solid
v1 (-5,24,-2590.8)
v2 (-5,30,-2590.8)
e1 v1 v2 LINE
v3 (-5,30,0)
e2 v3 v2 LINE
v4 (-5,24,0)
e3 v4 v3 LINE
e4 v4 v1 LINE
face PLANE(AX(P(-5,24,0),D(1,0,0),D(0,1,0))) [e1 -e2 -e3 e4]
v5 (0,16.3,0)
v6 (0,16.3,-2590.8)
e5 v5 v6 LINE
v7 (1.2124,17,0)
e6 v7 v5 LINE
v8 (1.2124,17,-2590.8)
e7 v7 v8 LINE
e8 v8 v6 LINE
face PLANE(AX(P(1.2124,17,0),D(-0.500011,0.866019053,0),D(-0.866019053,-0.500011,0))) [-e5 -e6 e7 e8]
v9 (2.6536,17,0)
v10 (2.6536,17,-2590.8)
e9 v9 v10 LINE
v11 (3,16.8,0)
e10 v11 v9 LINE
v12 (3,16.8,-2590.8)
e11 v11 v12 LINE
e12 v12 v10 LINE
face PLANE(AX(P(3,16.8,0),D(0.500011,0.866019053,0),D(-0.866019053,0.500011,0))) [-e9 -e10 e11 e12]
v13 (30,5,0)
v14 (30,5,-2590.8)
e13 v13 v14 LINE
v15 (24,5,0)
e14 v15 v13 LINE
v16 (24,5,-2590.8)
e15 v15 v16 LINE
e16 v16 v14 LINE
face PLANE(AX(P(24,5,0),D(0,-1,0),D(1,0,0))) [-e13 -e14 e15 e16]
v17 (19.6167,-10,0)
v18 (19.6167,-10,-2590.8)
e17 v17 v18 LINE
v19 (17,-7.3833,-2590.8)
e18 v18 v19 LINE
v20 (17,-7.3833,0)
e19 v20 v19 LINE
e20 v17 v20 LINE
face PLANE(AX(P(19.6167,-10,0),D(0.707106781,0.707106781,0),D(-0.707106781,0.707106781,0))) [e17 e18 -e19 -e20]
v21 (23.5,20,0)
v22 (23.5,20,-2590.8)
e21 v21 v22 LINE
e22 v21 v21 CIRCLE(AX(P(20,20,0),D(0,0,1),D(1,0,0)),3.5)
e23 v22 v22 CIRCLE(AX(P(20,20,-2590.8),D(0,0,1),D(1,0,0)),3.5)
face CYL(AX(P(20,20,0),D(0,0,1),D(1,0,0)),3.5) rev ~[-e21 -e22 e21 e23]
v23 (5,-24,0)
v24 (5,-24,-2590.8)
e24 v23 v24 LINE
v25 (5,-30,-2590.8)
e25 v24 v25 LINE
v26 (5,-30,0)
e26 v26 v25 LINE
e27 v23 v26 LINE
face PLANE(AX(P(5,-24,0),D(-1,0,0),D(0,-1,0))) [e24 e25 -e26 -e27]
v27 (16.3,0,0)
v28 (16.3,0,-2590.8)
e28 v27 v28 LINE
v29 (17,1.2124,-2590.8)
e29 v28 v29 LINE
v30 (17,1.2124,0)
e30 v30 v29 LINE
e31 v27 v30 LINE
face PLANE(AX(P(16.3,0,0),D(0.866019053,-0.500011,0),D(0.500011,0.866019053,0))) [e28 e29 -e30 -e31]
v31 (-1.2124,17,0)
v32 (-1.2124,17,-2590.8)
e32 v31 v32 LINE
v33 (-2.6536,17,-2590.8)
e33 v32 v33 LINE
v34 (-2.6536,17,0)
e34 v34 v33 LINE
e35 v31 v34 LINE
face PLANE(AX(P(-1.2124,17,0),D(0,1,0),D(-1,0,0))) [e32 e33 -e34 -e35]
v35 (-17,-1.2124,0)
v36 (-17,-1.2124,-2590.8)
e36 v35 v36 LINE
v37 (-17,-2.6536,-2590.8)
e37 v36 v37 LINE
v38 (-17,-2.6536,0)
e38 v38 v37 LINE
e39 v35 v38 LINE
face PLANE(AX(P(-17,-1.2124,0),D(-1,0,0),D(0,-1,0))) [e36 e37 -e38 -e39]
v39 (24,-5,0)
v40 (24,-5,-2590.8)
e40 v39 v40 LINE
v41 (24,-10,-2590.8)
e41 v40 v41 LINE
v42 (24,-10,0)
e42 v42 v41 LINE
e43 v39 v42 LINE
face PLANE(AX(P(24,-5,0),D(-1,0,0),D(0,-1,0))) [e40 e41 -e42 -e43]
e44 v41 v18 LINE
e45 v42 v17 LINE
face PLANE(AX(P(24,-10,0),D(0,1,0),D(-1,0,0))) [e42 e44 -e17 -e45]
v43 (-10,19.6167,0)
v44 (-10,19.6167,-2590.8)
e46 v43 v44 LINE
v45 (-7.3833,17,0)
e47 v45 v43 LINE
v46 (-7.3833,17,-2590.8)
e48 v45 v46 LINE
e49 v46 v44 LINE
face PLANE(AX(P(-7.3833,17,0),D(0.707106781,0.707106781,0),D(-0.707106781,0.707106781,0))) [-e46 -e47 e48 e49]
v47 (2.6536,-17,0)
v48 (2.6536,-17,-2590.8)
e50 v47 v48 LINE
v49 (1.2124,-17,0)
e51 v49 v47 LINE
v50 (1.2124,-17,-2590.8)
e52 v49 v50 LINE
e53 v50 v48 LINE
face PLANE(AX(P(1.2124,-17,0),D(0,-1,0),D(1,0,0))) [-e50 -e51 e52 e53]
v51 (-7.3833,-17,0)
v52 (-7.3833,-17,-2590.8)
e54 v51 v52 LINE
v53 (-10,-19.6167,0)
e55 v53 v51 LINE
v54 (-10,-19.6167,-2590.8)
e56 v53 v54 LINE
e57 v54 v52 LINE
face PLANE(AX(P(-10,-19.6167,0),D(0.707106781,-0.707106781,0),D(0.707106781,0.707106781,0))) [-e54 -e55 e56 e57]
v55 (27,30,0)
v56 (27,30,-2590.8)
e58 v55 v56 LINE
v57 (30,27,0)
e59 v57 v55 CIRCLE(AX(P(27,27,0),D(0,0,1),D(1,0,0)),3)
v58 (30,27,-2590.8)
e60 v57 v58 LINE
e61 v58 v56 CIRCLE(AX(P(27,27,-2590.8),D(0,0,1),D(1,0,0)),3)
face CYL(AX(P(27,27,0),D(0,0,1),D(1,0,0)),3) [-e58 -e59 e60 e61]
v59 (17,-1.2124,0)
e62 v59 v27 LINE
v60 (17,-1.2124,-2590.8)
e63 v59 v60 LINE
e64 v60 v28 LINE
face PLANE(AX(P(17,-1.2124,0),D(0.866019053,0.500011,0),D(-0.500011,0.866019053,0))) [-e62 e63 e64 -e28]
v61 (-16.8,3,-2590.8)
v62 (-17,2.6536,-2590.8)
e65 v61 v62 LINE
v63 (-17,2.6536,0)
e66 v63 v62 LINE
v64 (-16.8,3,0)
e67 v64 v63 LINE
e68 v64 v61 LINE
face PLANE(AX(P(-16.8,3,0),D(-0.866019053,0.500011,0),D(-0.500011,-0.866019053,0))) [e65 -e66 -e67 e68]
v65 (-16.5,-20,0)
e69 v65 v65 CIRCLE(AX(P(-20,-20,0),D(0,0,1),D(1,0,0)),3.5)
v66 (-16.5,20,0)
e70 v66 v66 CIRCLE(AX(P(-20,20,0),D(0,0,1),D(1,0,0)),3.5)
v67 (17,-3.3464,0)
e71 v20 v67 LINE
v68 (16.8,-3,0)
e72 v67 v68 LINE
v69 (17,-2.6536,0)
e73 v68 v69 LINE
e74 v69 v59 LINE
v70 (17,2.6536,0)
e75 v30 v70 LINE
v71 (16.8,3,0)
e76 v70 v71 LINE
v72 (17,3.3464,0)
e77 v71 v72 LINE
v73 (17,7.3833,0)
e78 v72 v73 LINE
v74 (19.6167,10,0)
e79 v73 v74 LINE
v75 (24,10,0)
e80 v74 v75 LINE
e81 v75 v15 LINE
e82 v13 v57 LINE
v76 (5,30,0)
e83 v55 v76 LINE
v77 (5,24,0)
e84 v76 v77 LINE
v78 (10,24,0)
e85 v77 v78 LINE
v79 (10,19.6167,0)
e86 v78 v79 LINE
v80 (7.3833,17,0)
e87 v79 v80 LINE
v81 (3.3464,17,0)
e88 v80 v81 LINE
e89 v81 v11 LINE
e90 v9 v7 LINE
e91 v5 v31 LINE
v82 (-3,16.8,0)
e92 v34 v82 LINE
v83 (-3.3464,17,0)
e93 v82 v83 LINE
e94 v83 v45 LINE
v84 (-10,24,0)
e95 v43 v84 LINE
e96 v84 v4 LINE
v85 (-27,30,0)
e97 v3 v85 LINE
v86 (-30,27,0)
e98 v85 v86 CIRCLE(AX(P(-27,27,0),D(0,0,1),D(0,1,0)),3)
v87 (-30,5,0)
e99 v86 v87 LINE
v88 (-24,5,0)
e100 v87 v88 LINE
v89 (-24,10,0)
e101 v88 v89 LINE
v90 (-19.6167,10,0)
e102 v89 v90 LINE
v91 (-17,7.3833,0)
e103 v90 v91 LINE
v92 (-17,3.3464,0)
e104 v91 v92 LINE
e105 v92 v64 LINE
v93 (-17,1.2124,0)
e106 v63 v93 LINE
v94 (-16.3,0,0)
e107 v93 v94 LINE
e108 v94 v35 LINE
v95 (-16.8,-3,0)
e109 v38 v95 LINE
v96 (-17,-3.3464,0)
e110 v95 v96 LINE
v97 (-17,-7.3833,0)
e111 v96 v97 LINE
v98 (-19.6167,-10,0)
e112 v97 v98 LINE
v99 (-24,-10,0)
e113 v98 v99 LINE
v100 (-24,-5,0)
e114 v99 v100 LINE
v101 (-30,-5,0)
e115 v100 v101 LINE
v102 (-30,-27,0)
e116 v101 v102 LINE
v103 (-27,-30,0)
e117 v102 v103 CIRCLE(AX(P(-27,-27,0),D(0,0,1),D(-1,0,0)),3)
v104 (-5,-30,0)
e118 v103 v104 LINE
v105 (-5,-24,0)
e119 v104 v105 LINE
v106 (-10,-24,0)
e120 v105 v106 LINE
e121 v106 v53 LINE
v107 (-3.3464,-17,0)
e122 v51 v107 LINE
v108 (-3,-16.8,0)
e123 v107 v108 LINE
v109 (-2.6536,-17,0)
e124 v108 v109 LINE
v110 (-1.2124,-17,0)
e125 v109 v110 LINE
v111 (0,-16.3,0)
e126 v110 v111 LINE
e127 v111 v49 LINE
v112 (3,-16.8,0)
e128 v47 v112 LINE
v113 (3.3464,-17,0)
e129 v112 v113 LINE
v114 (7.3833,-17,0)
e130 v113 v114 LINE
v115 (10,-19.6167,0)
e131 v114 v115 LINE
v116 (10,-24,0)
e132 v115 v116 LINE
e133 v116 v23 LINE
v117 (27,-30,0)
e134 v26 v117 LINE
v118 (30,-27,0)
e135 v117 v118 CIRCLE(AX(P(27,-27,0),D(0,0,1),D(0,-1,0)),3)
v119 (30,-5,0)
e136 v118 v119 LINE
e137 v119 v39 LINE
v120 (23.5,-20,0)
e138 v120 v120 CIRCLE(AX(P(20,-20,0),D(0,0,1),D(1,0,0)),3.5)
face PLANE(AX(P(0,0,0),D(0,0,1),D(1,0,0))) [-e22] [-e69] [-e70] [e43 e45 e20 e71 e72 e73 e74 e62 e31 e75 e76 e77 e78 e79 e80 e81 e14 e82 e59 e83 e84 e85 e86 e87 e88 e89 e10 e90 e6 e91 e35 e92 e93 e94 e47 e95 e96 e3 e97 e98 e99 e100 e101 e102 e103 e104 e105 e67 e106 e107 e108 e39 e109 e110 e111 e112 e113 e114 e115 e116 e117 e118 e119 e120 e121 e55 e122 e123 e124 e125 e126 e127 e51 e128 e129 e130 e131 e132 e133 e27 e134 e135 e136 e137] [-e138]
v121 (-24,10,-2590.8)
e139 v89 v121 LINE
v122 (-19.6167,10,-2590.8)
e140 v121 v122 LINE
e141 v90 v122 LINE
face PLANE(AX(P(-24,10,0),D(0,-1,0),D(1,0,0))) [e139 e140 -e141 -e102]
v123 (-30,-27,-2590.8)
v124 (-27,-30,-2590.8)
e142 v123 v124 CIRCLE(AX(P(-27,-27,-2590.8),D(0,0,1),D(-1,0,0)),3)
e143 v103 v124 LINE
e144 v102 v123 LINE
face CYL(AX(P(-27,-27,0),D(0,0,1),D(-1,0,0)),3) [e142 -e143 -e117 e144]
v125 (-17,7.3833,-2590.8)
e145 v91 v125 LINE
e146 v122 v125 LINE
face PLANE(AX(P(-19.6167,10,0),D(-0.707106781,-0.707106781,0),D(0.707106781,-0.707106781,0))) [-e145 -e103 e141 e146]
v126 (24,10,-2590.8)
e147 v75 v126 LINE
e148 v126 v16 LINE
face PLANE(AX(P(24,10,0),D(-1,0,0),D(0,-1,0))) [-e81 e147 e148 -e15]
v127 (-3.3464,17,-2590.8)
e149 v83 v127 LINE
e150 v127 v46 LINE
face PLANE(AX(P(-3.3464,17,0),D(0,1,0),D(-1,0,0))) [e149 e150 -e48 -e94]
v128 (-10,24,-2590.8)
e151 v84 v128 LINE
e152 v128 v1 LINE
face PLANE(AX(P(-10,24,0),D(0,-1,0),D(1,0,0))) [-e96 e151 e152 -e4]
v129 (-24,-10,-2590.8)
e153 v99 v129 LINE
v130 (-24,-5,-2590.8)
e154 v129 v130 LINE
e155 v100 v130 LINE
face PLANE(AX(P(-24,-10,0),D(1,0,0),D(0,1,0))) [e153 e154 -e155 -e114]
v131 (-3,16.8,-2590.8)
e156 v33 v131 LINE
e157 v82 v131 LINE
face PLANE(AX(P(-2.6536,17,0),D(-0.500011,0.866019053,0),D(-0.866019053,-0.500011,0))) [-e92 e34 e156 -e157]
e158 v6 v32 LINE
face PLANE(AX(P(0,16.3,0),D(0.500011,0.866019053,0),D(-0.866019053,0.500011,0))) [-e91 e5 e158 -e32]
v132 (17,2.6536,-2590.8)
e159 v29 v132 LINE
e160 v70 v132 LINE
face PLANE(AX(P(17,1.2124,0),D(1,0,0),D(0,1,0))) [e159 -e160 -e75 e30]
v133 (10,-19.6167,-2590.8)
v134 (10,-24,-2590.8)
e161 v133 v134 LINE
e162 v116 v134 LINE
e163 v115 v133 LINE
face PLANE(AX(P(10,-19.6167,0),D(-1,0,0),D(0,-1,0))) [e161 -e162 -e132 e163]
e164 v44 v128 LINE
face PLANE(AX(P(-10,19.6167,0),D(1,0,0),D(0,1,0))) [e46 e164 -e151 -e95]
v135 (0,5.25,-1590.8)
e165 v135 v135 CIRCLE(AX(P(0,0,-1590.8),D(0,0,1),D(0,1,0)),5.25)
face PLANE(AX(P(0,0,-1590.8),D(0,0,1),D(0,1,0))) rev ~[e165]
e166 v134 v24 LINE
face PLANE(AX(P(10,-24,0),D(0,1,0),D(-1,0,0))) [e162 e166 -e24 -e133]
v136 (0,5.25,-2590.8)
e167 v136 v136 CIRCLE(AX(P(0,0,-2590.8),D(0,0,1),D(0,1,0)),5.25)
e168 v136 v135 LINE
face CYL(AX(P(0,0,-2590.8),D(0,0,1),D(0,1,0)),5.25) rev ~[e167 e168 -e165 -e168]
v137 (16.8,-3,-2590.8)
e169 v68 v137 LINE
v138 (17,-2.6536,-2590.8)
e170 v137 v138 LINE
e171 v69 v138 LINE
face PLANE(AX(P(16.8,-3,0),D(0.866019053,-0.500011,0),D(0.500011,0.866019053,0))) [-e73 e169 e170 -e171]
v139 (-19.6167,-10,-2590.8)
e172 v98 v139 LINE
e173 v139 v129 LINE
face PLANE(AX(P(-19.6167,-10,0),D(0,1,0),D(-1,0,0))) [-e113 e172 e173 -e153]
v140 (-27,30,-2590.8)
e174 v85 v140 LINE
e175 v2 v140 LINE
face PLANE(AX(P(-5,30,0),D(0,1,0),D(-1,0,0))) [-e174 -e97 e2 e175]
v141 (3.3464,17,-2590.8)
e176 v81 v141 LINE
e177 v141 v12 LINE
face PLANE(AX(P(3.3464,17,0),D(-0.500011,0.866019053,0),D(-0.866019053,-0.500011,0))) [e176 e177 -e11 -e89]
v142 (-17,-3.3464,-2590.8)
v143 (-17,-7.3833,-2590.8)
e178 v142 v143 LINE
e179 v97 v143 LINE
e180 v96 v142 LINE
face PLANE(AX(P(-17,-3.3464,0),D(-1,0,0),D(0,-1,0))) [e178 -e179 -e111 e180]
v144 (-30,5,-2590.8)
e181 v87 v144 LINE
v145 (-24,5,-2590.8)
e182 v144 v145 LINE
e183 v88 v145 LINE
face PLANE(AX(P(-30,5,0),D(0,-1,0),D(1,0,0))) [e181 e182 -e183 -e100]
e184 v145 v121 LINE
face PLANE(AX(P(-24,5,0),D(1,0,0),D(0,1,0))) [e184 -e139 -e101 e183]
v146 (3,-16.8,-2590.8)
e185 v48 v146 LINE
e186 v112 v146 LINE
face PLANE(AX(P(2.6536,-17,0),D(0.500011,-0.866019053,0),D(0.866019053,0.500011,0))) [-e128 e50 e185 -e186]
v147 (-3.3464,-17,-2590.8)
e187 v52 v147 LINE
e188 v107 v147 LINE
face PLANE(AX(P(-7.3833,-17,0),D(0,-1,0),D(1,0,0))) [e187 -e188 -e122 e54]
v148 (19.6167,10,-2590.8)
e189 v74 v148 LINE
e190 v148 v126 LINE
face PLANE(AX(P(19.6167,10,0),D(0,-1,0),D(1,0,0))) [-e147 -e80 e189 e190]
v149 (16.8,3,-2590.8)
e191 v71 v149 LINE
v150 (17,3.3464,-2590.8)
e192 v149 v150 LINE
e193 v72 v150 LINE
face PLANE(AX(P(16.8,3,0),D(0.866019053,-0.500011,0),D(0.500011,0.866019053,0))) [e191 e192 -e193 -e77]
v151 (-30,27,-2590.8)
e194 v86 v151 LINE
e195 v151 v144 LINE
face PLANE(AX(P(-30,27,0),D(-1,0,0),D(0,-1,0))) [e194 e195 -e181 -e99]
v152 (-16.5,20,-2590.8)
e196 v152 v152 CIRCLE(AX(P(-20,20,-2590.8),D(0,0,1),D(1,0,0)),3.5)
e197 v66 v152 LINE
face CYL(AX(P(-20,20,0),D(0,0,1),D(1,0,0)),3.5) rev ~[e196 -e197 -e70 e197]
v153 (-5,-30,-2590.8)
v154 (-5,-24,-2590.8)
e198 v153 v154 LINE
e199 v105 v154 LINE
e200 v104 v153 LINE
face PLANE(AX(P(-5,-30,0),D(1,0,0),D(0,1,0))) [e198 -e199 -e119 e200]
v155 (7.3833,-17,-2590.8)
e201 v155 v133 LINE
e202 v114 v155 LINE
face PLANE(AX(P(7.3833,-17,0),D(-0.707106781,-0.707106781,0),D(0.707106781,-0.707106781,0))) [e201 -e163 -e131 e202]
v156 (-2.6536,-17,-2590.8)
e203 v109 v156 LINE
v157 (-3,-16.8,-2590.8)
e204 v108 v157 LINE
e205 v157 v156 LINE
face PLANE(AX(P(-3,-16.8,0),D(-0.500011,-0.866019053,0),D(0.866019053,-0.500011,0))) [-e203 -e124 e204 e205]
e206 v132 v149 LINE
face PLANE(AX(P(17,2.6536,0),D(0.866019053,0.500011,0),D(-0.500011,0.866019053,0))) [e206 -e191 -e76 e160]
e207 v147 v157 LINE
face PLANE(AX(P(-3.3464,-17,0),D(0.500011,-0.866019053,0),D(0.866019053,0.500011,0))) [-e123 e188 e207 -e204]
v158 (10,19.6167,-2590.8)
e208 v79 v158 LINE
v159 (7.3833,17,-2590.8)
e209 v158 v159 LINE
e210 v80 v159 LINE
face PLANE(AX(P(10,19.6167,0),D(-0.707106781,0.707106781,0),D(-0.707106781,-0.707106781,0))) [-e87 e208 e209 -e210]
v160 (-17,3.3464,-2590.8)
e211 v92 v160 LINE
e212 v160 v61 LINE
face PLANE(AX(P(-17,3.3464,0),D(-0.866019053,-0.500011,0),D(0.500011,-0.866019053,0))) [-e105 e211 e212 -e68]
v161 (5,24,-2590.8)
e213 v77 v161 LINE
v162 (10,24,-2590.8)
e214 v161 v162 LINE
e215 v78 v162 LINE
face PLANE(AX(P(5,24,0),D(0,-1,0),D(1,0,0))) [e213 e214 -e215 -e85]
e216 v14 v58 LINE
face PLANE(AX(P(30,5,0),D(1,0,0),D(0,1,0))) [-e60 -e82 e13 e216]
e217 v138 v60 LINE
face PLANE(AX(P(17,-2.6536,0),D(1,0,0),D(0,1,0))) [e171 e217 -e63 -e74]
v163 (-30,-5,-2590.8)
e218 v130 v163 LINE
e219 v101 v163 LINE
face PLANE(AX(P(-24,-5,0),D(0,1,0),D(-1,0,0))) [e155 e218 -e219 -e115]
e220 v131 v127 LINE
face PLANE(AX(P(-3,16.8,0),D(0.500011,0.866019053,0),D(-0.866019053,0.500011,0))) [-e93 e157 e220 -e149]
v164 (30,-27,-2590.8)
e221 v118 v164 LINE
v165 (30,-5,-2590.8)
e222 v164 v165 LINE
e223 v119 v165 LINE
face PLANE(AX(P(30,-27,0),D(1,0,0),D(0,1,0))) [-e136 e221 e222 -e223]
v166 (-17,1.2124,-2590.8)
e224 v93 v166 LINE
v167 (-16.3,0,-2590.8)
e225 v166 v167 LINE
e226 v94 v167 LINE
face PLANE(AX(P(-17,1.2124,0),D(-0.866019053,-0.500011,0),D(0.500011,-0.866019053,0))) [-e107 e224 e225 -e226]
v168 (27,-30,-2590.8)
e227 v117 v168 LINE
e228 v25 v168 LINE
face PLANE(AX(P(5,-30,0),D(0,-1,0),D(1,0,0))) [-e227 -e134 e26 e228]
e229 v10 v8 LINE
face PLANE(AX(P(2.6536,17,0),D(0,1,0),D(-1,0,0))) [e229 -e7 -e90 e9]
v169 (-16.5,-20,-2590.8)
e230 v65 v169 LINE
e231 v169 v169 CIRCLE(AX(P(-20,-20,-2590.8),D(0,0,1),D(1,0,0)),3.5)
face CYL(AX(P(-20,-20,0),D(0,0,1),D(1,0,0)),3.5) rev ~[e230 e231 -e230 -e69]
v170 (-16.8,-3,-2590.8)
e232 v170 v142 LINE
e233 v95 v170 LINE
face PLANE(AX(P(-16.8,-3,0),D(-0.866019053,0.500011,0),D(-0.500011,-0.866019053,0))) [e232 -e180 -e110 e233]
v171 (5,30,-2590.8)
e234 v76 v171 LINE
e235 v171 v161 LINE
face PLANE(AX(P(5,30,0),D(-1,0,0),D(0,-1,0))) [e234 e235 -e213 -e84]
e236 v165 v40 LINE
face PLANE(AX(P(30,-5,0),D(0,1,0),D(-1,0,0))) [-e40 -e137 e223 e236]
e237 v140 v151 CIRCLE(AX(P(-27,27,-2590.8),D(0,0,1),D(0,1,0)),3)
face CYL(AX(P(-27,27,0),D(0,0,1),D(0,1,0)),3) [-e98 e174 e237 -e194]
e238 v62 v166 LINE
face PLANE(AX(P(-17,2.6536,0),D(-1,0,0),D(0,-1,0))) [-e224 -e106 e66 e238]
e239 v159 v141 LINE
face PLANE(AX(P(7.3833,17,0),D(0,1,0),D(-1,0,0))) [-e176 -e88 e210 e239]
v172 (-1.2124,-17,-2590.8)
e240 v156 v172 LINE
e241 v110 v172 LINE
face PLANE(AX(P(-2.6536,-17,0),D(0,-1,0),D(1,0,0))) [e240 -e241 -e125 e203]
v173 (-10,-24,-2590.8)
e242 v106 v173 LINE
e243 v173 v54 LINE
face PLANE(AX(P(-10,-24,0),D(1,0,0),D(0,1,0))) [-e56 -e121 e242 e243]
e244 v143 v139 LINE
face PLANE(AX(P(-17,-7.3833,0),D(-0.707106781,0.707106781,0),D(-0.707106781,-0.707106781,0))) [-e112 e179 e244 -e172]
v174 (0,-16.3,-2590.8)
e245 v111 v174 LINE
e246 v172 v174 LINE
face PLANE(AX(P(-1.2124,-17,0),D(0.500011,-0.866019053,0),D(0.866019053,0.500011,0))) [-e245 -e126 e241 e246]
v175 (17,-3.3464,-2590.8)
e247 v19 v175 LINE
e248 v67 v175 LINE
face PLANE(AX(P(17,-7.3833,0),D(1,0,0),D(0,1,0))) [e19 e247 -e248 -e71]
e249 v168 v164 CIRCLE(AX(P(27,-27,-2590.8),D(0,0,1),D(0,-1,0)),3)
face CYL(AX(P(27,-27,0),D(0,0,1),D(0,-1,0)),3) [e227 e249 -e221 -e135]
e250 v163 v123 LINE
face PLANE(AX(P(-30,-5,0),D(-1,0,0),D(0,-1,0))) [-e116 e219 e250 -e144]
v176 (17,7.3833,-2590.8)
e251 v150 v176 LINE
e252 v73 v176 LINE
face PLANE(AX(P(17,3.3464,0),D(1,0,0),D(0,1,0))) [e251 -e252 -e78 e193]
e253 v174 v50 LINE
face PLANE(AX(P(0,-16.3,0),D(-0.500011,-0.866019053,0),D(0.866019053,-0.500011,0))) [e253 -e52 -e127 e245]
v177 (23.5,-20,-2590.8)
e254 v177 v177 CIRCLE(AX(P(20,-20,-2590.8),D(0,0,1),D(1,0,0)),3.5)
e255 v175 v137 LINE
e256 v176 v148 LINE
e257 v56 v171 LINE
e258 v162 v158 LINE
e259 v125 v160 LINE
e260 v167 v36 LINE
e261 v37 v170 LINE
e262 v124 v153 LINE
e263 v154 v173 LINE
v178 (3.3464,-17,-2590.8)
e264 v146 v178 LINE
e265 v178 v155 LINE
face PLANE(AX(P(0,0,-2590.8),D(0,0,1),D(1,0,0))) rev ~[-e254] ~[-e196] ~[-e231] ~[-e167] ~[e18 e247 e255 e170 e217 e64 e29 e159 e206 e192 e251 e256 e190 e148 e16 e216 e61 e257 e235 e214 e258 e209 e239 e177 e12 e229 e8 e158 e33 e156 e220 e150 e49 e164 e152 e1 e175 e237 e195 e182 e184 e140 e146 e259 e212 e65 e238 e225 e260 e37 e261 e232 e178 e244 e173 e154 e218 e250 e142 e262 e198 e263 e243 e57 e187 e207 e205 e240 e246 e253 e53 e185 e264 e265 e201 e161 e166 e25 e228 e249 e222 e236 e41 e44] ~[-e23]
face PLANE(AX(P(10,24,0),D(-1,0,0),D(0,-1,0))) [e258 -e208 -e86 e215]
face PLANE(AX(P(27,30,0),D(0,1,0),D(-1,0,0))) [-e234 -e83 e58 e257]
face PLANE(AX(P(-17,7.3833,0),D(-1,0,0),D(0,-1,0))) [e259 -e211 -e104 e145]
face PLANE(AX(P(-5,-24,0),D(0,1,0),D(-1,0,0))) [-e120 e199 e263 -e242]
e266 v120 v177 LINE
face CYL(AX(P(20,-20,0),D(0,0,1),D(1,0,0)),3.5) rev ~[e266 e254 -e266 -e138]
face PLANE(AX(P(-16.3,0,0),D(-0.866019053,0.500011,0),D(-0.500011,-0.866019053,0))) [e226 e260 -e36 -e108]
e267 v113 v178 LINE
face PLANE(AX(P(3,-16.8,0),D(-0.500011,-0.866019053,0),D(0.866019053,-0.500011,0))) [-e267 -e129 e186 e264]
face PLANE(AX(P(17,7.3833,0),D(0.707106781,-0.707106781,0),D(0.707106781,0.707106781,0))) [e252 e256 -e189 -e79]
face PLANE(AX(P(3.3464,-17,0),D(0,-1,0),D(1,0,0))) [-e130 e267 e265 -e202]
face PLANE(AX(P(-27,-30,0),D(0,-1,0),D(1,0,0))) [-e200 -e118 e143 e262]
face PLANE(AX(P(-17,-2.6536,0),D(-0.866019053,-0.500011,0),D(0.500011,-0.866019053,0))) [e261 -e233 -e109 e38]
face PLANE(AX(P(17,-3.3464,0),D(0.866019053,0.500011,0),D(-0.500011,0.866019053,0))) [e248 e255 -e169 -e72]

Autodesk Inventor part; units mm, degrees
sketch "Sketch_60" plane through (0, 0, 0) normal (0, 0, 1) x (1, 0, 0)
  arc A0 (-30, -27) -> (-27, -30) centre (-27, -27) ccw
  line L0 (-27, -30) -> (-5, -30)
  line L1 (-5, -30) -> (-5, -24)
  line L2 (-5, -24) -> (-10, -24)
  line L3 (-10, -24) -> (-10, -19.6167)
  line L4 (-10, -19.6167) -> (-7.3833, -17)
  line L5 (-7.3833, -17) -> (-3.3464, -17)
  line L6 (-3.3464, -17) -> (-3, -16.8)
  line L7 (-3, -16.8) -> (-2.6536, -17)
  line L8 (-2.6536, -17) -> (-1.2124, -17)
  line L9 (-1.2124, -17) -> (0, -16.3)
  line L10 (0, -16.3) -> (1.2124, -17)
  line L11 (1.2124, -17) -> (2.6536, -17)
  line L12 (2.6536, -17) -> (3, -16.8)
  line L13 (3, -16.8) -> (3.3464, -17)
  line L14 (3.3464, -17) -> (7.3833, -17)
  line L15 (7.3833, -17) -> (10, -19.6167)
  line L16 (10, -19.6167) -> (10, -24)
  line L17 (10, -24) -> (5, -24)
  line L18 (5, -24) -> (5, -30)
  line L19 (5, -30) -> (27, -30)
  arc A1 (27, -30) -> (30, -27) centre (27, -27) ccw
  line L20 (30, -27) -> (30, -5)
  line L21 (30, -5) -> (24, -5)
  line L22 (24, -5) -> (24, -10)
  line L23 (24, -10) -> (19.6167, -10)
  line L24 (19.6167, -10) -> (17, -7.3833)
  line L25 (17, -7.3833) -> (17, -3.3464)
  line L26 (17, -3.3464) -> (16.8, -3)
  line L27 (16.8, -3) -> (17, -2.6536)
  line L28 (17, -2.6536) -> (17, -1.2124)
  line L29 (17, -1.2124) -> (16.3, 0)
  line L30 (16.3, 0) -> (17, 1.2124)
  line L31 (17, 1.2124) -> (17, 2.6536)
  line L32 (17, 2.6536) -> (16.8, 3)
  line L33 (16.8, 3) -> (17, 3.3464)
  line L34 (17, 3.3464) -> (17, 7.3833)
  line L35 (17, 7.3833) -> (19.6167, 10)
  line L36 (19.6167, 10) -> (24, 10)
  line L37 (24, 10) -> (24, 5)
  line L38 (24, 5) -> (30, 5)
  line L39 (30, 5) -> (30, 27)
  arc A2 (30, 27) -> (27, 30) centre (27, 27) ccw
  line L40 (27, 30) -> (5, 30)
  line L41 (5, 30) -> (5, 24)
  line L42 (5, 24) -> (10, 24)
  line L43 (10, 24) -> (10, 19.6167)
  line L44 (10, 19.6167) -> (7.3833, 17)
  line L45 (7.3833, 17) -> (3.3464, 17)
  line L46 (3.3464, 17) -> (3, 16.8)
  line L47 (3, 16.8) -> (2.6536, 17)
  line L48 (2.6536, 17) -> (1.2124, 17)
  line L49 (1.2124, 17) -> (0, 16.3)
  line L50 (0, 16.3) -> (-1.2124, 17)
  line L51 (-1.2124, 17) -> (-2.6536, 17)
  line L52 (-2.6536, 17) -> (-3, 16.8)
  line L53 (-3, 16.8) -> (-3.3464, 17)
  line L54 (-3.3464, 17) -> (-7.3833, 17)
  line L55 (-7.3833, 17) -> (-10, 19.6167)
  line L56 (-10, 19.6167) -> (-10, 24)
  line L57 (-10, 24) -> (-5, 24)
  line L58 (-5, 24) -> (-5, 30)
  line L59 (-5, 30) -> (-27, 30)
  arc A3 (-27, 30) -> (-30, 27) centre (-27, 27) ccw
  line L60 (-30, 27) -> (-30, 5)
  line L61 (-30, 5) -> (-24, 5)
  line L62 (-24, 5) -> (-24, 10)
  line L63 (-24, 10) -> (-19.6167, 10)
  line L64 (-19.6167, 10) -> (-17, 7.3833)
  line L65 (-17, 7.3833) -> (-17, 3.3464)
  line L66 (-17, 3.3464) -> (-16.8, 3)
  line L67 (-16.8, 3) -> (-17, 2.6536)
  line L68 (-17, 2.6536) -> (-17, 1.2124)
  line L69 (-17, 1.2124) -> (-16.3, 0)
  line L70 (-16.3, 0) -> (-17, -1.2124)
  line L71 (-17, -1.2124) -> (-17, -2.6536)
  line L72 (-17, -2.6536) -> (-16.8, -3)
  line L73 (-16.8, -3) -> (-17, -3.3464)
  line L74 (-17, -3.3464) -> (-17, -7.3833)
  line L75 (-17, -7.3833) -> (-19.6167, -10)
  line L76 (-19.6167, -10) -> (-24, -10)
  line L77 (-24, -10) -> (-24, -5)
  line L78 (-24, -5) -> (-30, -5)
  line L79 (-30, -5) -> (-30, -27)
  circle A4 centre (20, 20) radius 3.5
  circle A5 centre (20, -20) radius 3.5
  circle A6 centre (-20, 20) radius 3.5
  circle A7 centre (-20, -20) radius 3.5
extrude "Extrusion1" add sketch "Sketch_60" against normal blind 2590.8
sketch "Sketch2" plane through (0, 0, -2590.8) normal (0, 0, -1) x (-1, 0, 0)
  point P0 (0, 0)
hole "Hole1" at (0, 0, -2590.8) direction (0, 0, 1) diameter 10.5 depth 1000
ref_plane "C1_XY" through (0, 0, 0) normal (0, 0, 1) x (1, 0, 0)
ref_plane "C1_YZ" through (0, 0, 0) normal (1, 0, 0) x (0, 1, 0)
ref_plane "C1_ZX" through (0, 0, 0) normal (0, 1, 0) x (0, 0, 1)
ref_plane "to_frame_cap1_XY" through (0, 0, 0) normal (0, 0, 1) x (1, 0, 0)
ref_plane "to_frame_cap1_YZ" through (0, 0, 0) normal (1, 0, 0) x (0, 1, 0)
ref_plane "to_frame_cap1_ZX" through (0, 0, 0) normal (0, 1, 0) x (0, 0, 1)
ref_plane "to_frame_cap2_XY" through (0, 0, -1000) normal (0, 0, -1) x (1, 0, 0)
ref_plane "to_frame_cap2_YZ" through (0, 0, -1000) normal (1, 0, 0) x (0, -1, 0)
ref_plane "to_frame_cap2_ZX" through (0, 0, -1000) normal (0, -1, 0) x (0, 0, -1)
properties part number "GFS8-6060-1000"
